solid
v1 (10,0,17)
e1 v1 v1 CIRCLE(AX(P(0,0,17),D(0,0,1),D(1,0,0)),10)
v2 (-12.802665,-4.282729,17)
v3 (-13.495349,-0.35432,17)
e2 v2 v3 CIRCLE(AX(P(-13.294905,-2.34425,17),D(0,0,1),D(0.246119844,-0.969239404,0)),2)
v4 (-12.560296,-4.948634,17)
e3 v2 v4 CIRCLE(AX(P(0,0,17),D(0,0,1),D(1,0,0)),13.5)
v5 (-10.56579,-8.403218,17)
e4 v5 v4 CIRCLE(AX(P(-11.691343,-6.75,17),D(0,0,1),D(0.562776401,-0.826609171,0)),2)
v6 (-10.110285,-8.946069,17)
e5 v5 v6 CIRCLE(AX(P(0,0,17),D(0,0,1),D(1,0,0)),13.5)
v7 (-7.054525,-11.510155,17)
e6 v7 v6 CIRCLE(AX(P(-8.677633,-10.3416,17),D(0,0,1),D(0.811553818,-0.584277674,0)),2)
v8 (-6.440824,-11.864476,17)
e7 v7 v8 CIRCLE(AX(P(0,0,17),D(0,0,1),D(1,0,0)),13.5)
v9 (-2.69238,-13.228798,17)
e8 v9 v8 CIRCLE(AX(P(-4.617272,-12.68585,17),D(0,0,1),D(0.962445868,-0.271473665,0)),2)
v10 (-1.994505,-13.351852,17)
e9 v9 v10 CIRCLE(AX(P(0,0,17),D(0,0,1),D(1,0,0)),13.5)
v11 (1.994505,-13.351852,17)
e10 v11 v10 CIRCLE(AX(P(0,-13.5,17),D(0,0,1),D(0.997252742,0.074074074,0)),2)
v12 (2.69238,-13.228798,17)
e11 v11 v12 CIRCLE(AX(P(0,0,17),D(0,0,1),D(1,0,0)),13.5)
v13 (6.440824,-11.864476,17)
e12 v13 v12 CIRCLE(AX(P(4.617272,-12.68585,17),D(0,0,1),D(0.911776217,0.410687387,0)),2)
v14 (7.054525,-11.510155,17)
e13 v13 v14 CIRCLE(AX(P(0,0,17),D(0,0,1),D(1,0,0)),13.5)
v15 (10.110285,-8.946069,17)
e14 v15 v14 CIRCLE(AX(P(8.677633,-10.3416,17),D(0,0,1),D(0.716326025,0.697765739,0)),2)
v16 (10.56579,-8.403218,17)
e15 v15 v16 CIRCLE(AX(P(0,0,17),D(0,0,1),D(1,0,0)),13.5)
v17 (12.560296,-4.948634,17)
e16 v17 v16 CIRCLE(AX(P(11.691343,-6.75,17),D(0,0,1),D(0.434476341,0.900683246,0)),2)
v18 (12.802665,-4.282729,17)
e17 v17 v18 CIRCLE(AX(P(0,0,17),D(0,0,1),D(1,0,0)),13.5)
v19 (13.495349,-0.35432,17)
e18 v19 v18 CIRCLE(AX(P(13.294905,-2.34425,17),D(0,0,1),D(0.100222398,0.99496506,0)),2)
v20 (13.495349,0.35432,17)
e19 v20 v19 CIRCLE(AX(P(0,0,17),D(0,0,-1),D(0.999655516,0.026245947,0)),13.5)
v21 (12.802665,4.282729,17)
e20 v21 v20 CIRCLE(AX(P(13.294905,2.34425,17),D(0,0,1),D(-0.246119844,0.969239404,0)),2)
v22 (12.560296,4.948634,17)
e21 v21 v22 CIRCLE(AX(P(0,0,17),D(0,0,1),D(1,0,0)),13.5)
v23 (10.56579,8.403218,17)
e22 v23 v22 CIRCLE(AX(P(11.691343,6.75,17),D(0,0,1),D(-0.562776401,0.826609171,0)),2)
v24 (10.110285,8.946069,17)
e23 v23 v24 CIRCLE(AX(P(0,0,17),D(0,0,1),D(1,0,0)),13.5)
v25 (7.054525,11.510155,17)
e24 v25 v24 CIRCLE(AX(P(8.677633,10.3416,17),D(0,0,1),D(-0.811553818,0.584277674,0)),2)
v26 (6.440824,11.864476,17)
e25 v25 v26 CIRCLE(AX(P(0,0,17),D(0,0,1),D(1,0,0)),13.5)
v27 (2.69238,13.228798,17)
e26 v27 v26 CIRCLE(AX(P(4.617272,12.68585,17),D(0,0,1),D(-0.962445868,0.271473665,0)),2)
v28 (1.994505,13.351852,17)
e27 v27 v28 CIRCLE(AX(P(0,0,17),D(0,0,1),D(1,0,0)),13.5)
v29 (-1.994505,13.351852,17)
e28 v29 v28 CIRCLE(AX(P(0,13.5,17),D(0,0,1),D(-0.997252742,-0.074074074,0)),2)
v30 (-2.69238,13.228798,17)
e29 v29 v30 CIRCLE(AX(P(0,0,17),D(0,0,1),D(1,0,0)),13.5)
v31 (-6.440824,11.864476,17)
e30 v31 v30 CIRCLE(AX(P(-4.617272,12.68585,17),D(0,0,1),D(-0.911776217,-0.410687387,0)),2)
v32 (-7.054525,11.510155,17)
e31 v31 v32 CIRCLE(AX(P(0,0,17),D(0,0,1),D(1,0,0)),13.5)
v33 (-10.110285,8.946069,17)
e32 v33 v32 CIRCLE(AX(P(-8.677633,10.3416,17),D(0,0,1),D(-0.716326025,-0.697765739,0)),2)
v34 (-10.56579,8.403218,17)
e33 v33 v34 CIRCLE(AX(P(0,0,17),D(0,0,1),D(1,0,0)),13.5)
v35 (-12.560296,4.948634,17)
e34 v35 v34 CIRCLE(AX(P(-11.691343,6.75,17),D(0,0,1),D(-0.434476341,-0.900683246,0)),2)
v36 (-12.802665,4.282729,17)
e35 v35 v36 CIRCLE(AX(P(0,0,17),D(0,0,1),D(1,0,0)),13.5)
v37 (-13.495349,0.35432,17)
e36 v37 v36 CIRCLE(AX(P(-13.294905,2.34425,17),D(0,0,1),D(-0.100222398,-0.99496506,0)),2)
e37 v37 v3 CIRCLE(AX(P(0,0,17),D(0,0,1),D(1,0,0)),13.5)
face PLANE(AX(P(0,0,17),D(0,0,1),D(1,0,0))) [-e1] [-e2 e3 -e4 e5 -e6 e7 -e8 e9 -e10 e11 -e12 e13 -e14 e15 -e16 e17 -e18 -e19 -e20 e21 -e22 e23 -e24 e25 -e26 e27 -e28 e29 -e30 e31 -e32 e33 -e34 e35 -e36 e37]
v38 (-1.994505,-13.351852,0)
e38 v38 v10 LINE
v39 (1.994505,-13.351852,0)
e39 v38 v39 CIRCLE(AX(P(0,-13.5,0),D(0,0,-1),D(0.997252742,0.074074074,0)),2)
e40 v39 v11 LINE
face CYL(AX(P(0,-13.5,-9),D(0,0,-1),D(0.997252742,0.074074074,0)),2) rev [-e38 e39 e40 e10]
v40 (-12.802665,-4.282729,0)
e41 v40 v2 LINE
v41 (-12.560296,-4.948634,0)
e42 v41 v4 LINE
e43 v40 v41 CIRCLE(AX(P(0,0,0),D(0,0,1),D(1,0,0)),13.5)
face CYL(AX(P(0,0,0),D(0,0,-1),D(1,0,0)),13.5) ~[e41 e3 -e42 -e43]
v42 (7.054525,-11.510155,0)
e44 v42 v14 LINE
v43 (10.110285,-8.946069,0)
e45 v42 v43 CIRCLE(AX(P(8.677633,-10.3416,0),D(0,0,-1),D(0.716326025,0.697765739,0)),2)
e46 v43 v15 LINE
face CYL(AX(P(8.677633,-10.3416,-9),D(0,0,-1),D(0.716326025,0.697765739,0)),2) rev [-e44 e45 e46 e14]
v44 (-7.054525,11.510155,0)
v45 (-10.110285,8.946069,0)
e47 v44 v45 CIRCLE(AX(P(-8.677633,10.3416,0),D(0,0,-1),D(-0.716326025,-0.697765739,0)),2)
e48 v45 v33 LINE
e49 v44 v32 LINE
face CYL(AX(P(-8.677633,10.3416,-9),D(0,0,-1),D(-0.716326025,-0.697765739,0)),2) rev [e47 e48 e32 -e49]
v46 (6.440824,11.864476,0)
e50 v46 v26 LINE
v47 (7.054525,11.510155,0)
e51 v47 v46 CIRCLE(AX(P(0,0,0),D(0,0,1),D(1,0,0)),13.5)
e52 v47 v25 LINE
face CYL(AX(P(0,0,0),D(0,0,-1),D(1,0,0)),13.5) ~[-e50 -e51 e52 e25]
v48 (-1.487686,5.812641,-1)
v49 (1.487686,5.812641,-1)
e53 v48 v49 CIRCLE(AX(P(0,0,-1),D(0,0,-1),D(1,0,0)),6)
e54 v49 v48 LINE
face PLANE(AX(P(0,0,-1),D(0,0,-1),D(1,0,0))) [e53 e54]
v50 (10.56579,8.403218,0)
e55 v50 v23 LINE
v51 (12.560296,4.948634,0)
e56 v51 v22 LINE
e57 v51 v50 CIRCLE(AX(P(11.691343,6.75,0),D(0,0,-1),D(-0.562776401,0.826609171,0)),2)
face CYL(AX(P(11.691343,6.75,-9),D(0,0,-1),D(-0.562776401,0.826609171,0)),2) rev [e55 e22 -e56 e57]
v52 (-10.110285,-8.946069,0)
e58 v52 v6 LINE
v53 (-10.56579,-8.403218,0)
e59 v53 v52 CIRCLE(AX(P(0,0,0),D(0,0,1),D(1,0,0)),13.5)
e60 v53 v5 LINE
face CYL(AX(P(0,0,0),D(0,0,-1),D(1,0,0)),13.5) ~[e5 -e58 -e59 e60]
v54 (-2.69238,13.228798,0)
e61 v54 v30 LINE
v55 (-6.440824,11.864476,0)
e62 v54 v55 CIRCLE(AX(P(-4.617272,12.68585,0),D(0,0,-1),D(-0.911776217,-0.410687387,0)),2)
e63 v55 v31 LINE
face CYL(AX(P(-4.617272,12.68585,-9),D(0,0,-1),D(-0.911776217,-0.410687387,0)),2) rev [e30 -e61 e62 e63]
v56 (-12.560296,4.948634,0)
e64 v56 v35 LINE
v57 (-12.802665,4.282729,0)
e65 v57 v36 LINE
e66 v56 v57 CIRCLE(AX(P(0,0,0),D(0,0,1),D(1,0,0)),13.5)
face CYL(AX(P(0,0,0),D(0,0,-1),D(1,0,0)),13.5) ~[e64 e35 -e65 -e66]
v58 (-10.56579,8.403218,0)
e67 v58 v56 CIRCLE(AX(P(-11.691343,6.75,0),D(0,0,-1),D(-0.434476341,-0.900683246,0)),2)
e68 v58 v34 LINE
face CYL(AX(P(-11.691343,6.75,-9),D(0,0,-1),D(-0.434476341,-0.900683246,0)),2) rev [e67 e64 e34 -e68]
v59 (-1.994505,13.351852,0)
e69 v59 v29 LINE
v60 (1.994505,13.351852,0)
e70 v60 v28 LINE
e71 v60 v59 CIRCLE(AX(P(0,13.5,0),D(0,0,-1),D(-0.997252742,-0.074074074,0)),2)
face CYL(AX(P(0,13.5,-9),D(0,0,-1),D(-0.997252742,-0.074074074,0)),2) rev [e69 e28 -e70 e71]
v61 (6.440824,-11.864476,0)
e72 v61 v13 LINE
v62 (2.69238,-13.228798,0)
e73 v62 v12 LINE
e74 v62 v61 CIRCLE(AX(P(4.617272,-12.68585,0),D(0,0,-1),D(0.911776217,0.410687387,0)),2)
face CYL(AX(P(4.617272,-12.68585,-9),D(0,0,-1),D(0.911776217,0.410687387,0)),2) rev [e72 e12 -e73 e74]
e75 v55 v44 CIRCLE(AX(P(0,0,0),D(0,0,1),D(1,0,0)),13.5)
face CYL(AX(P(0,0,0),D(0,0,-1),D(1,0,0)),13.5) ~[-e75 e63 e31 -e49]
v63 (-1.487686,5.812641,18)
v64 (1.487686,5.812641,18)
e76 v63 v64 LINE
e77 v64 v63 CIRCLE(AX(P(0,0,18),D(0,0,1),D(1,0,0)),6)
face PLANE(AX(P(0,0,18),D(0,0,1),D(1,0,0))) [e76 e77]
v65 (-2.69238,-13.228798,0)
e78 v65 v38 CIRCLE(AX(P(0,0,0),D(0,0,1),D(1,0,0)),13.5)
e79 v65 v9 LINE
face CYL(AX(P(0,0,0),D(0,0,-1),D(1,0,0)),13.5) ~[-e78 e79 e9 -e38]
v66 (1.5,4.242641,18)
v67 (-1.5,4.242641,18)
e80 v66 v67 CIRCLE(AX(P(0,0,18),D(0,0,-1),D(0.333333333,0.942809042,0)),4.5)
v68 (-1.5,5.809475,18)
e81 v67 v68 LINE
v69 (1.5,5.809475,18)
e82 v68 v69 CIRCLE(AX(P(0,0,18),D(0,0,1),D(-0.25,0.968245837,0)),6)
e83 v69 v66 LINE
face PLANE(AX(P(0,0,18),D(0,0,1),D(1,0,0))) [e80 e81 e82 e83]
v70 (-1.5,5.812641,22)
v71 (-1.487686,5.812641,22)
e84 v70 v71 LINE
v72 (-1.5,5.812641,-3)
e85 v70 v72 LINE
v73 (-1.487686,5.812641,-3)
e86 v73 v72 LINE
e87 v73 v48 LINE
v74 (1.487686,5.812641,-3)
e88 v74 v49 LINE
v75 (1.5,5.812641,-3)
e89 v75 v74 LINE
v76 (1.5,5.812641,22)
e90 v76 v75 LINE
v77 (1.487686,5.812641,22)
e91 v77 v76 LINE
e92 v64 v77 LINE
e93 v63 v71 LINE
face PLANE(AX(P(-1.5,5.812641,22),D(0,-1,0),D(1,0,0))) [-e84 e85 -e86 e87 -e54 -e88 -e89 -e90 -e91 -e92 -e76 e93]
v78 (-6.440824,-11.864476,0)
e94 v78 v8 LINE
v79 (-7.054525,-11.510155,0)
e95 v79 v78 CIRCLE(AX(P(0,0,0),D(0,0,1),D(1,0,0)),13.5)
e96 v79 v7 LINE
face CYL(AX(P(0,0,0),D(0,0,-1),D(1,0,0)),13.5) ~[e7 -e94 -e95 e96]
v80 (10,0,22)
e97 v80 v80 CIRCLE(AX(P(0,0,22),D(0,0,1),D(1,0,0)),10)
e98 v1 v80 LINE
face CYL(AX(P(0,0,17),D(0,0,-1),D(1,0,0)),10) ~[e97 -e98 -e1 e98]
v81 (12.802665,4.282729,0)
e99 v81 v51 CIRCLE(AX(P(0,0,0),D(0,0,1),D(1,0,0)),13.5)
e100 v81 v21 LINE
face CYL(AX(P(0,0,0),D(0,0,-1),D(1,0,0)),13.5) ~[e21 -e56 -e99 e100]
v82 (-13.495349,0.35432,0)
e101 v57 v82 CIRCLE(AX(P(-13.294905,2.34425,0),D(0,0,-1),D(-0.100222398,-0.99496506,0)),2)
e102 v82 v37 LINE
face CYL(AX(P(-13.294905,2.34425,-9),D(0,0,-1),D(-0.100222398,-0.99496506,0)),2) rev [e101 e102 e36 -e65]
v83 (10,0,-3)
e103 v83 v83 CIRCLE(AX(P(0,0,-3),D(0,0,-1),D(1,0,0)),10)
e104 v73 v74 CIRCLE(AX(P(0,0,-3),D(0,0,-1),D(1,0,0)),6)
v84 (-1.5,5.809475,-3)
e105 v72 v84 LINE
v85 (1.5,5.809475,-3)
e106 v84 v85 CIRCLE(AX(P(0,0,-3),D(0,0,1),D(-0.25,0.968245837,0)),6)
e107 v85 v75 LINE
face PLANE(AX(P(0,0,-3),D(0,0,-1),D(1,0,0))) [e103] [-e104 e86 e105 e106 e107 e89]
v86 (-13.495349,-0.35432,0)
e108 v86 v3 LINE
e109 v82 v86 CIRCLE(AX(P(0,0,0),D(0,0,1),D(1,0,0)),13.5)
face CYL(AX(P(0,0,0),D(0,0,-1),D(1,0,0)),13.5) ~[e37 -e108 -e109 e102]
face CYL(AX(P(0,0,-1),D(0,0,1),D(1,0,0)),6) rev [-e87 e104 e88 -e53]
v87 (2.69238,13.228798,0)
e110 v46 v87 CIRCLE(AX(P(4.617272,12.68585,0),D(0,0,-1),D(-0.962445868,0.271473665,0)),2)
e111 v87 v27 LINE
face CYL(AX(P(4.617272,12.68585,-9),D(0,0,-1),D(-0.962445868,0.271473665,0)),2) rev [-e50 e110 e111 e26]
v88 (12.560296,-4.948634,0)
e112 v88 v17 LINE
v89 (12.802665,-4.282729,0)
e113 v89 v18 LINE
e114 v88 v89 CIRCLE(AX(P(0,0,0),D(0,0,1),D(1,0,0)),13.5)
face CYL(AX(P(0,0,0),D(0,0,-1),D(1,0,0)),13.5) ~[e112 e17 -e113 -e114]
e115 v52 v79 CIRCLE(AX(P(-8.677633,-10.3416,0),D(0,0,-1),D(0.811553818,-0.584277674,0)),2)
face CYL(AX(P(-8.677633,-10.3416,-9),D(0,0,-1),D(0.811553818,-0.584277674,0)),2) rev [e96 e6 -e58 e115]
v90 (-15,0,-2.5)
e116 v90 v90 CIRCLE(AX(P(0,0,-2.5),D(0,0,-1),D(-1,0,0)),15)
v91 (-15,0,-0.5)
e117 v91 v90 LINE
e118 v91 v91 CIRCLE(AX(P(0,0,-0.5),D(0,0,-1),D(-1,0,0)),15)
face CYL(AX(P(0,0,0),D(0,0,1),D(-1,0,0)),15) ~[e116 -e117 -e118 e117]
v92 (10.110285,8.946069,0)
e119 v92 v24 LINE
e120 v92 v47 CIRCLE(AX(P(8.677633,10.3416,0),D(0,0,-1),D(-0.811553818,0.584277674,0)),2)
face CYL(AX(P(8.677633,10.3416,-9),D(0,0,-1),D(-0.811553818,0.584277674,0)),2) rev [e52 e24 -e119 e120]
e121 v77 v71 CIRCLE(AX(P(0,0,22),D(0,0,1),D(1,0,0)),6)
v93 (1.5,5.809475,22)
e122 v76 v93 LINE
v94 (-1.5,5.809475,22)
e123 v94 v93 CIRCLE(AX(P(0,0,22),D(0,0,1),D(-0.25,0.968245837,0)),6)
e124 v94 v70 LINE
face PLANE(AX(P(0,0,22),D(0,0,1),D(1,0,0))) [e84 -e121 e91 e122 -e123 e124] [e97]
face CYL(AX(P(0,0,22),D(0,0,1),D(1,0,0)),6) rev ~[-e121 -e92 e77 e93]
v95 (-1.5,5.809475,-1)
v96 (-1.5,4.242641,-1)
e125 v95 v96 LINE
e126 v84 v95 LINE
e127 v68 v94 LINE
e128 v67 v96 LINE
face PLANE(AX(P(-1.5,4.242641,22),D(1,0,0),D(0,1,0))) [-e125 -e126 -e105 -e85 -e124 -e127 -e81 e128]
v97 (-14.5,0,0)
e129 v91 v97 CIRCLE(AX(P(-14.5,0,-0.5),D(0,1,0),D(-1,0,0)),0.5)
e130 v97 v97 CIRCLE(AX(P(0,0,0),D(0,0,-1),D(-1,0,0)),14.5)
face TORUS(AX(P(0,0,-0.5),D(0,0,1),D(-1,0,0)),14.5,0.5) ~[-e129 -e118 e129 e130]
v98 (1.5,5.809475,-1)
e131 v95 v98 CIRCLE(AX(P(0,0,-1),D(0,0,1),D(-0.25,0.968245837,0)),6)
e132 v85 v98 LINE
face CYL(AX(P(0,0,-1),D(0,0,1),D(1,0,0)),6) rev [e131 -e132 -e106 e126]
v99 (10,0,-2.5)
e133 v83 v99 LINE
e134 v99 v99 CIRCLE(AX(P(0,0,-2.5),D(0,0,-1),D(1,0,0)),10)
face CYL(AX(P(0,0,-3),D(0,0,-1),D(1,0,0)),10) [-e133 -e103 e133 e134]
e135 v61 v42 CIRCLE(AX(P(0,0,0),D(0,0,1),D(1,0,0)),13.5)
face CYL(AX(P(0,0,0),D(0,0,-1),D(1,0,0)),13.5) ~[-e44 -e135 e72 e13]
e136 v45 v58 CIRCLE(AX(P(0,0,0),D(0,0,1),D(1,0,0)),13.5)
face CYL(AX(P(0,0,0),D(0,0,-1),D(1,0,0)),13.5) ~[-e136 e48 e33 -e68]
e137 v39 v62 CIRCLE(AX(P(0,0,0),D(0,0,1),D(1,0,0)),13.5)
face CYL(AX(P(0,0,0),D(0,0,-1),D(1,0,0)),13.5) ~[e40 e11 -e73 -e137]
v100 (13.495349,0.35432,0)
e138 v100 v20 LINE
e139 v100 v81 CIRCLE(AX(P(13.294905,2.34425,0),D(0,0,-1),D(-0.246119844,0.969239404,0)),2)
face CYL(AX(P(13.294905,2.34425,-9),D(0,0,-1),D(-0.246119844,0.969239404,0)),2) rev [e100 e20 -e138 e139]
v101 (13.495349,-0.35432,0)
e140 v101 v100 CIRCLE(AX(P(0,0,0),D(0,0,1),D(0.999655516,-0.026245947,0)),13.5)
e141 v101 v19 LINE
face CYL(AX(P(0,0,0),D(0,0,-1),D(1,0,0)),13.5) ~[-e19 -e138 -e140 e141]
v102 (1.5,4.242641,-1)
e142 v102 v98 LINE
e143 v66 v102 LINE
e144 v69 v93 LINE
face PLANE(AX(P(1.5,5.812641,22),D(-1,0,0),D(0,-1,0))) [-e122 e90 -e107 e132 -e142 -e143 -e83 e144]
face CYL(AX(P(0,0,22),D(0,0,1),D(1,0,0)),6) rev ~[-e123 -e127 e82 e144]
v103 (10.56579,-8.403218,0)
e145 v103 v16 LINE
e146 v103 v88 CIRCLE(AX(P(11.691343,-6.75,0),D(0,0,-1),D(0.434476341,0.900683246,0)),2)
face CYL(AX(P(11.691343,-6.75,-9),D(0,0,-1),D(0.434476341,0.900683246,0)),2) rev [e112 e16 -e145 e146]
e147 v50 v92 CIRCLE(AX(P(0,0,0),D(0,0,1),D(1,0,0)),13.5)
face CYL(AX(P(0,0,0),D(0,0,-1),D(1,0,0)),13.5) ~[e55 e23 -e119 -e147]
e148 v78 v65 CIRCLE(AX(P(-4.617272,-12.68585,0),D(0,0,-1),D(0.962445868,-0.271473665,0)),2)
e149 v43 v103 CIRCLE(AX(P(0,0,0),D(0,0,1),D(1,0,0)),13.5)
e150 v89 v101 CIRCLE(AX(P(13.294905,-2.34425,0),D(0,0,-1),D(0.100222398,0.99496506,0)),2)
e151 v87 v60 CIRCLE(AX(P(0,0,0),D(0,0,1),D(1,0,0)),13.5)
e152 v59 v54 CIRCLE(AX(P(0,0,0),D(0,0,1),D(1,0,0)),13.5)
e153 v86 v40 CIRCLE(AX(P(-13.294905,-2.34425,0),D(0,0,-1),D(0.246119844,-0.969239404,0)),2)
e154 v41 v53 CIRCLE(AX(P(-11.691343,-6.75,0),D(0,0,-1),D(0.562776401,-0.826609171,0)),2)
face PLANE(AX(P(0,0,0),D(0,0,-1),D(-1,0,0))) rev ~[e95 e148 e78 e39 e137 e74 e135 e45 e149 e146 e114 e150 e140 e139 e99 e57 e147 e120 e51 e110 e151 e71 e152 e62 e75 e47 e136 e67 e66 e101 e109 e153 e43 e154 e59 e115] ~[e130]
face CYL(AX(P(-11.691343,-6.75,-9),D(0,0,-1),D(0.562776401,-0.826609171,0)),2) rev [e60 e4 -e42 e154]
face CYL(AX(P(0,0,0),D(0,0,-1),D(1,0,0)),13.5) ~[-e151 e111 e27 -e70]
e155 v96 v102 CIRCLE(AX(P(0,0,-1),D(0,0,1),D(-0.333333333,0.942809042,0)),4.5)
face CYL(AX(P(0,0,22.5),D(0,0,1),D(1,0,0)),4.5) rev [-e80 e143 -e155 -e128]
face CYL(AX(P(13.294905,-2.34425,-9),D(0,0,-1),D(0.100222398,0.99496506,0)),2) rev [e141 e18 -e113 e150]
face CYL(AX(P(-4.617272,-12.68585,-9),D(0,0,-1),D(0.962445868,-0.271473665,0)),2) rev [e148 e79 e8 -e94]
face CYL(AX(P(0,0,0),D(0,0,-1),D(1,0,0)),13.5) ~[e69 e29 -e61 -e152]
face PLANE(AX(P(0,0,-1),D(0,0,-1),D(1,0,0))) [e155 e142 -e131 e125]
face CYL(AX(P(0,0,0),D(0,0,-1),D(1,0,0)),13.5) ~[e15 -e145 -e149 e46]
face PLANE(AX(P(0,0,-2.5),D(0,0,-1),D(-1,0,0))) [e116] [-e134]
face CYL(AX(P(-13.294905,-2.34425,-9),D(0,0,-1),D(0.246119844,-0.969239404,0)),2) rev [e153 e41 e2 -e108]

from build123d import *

# Parameters (mm, degrees)
CROQUIS1_R              = 13.5
SALIENTE_EXTRUIR1_DEPTH = 17
CORTAR_EXTRUIR5_START   = -26
CORTAR_EXTRUIR5_DEPTH   = 26
CROQUIS8_R              = 10
SALIENTE_EXTRUIR2_DEPTH = 5
CROQUIS9_R              = 4.5
CORTAR_EXTRUIR6_DEPTH   = 45
CROQUIS10_R             = 6
CORTAR_EXTRUIR8_DEPTH   = 4
CROQUIS12_R             = 15
SALIENTE_EXTRUIR4_DEPTH = 2.5
CORTAR_EXTRUIR9_START   = -25
CROQUIS13_R             = 4.5
CORTAR_EXTRUIR9_DEPTH   = 25
SALIENTE_EXTRUIR5_START = 0.5
CROQUIS14_R             = 10
SALIENTE_EXTRUIR5_DEPTH = 0.5
CORTAR_EXTRUIR10_START  = -2
CROQUIS15_R             = 6
CORTAR_EXTRUIR10_DEPTH  = 2
CORTAR_EXTRUIR12_DEPTH  = 50
REDONDEO1_R             = 0.5


with BuildPart() as part:
    # Croquis1 → Saliente-Extruir1 (new body)
    with BuildSketch(Plane.XY):
        Circle(CROQUIS1_R)
    extrude(amount=SALIENTE_EXTRUIR1_DEPTH)

    # Croquis2 → Cortar-Extruir5 (cut)
    with BuildSketch(Plane.XY.offset(17).offset(CORTAR_EXTRUIR5_START)):
        with BuildLine():
            ThreePointArc((-6.44082437, 11.864475607), (-3.933231648, 10.806465139), (-2.692380198, 13.228797711))
            ThreePointArc((-2.692380198, 13.228797711), (-4.617271935, 12.685850381), (-6.44082437, 11.864475607))
        make_face()
        with BuildLine():
            ThreePointArc((-10.11028478, 8.946068504), (-7.392057511, 8.809511096), (-7.054525094, 11.510155329))
            ThreePointArc((-7.054525094, 11.510155329), (-8.677632731, 10.341599982), (-10.11028478, 8.946068504))
        make_face()
        with BuildLine():
            ThreePointArc((-12.560295633, 4.948633509), (-9.959292144, 5.75), (-10.565790149, 8.403218343))
            ThreePointArc((-10.565790149, 8.403218343), (-11.691342951, 6.75), (-12.560295633, 4.948633509))
        make_face()
        with BuildLine():
            ThreePointArc((1.994505484, 13.351851852), (0, 13.5), (-1.994505484, 13.351851852))
            ThreePointArc((-1.994505484, 13.351851852), (0, 11.5), (1.994505484, 13.351851852))
        make_face()
        with BuildLine():
            ThreePointArc((6.44082437, 11.864475607), (4.617271935, 12.685850381), (2.692380198, 13.228797711))
            ThreePointArc((2.692380198, 13.228797711), (3.933231648, 10.806465139), (6.44082437, 11.864475607))
        make_face()
        with BuildLine():
            ThreePointArc((10.11028478, 8.946068504), (8.677632731, 10.341599982), (7.054525094, 11.510155329))
            ThreePointArc((7.054525094, 11.510155329), (7.392057511, 8.809511096), (10.11028478, 8.946068504))
        make_face()
        with BuildLine():
            ThreePointArc((12.560295633, 4.948633509), (11.691342951, 6.75), (10.565790149, 8.403218343))
            ThreePointArc((10.565790149, 8.403218343), (9.959292144, 5.75), (12.560295633, 4.948633509))
        make_face()
        with BuildLine():
            ThreePointArc((13.495349463, 0.354320278), (13.294904666, 2.344250399), (12.802664978, 4.282729207))
            ThreePointArc((12.802664978, 4.282729207), (11.32528916, 1.996954043), (13.495349463, 0.354320278))
        make_face()
        with BuildLine():
            ThreePointArc((12.802664978, -4.282729207), (13.294904666, -2.344250399), (13.495349463, -0.354320278))
            ThreePointArc((13.495349463, -0.354320278), (11.32528916, -1.996954043), (12.802664978, -4.282729207))
        make_face()
        with BuildLine():
            ThreePointArc((10.565790149, -8.403218343), (11.691342951, -6.75), (12.560295633, -4.948633509))
            ThreePointArc((12.560295633, -4.948633509), (9.959292144, -5.75), (10.565790149, -8.403218343))
        make_face()
        with BuildLine():
            ThreePointArc((7.054525094, -11.510155329), (8.677632731, -10.341599982), (10.11028478, -8.946068504))
            ThreePointArc((10.11028478, -8.946068504), (7.392057511, -8.809511096), (7.054525094, -11.510155329))
        make_face()
        with BuildLine():
            ThreePointArc((2.692380198, -13.228797711), (4.617271935, -12.685850381), (6.44082437, -11.864475607))
            ThreePointArc((6.44082437, -11.864475607), (3.933231648, -10.806465139), (2.692380198, -13.228797711))
        make_face()
        with BuildLine():
            ThreePointArc((1.994505484, -13.351851852), (0, -11.5), (-1.994505484, -13.351851852))
            ThreePointArc((-1.994505484, -13.351851852), (0, -13.5), (1.994505484, -13.351851852))
        make_face()
        with BuildLine():
            ThreePointArc((-2.692380198, -13.228797711), (-3.933231648, -10.806465139), (-6.44082437, -11.864475607))
            ThreePointArc((-6.44082437, -11.864475607), (-4.617271935, -12.685850381), (-2.692380198, -13.228797711))
        make_face()
        with BuildLine():
            ThreePointArc((-7.054525094, -11.510155329), (-7.392057511, -8.809511096), (-10.11028478, -8.946068504))
            ThreePointArc((-10.11028478, -8.946068504), (-8.677632731, -10.341599982), (-7.054525094, -11.510155329))
        make_face()
        with BuildLine():
            ThreePointArc((-10.565790149, -8.403218343), (-9.959292144, -5.75), (-12.560295633, -4.948633509))
            ThreePointArc((-12.560295633, -4.948633509), (-11.691342951, -6.75), (-10.565790149, -8.403218343))
        make_face()
        with BuildLine():
            ThreePointArc((-12.802664978, -4.282729207), (-11.32528916, -1.996954043), (-13.495349463, -0.354320278))
            ThreePointArc((-13.495349463, -0.354320278), (-13.294904666, -2.344250399), (-12.802664978, -4.282729207))
        make_face()
        with BuildLine():
            ThreePointArc((-13.495349463, 0.354320278), (-11.32528916, 1.996954043), (-12.802664978, 4.282729207))
            ThreePointArc((-12.802664978, 4.282729207), (-13.294904666, 2.344250399), (-13.495349463, 0.354320278))
        make_face()
    extrude(amount=CORTAR_EXTRUIR5_DEPTH, mode=Mode.SUBTRACT)

    # Croquis8 → Saliente-Extruir2 (add)
    with BuildSketch(Plane.XY.offset(17)):
        Circle(CROQUIS8_R)
    extrude(amount=SALIENTE_EXTRUIR2_DEPTH)

    # Croquis9 → Cortar-Extruir6 (cut)
    with BuildSketch(Plane.XY.offset(22)):
        Circle(CROQUIS9_R)
    extrude(amount=-CORTAR_EXTRUIR6_DEPTH, mode=Mode.SUBTRACT)

    # Croquis10 → Cortar-Extruir8 (cut)
    with BuildSketch(Plane.XY.offset(22)):
        Circle(CROQUIS10_R)
    extrude(amount=-CORTAR_EXTRUIR8_DEPTH, mode=Mode.SUBTRACT)

    # Croquis12 → Saliente-Extruir4 (add)
    with BuildSketch(Plane(origin=(0, 0, 0), x_dir=(-1, 0, 0), z_dir=(0, 0, -1))):
        Circle(CROQUIS12_R)
    extrude(amount=SALIENTE_EXTRUIR4_DEPTH)

    # Croquis13 → Cortar-Extruir9 (cut)
    with BuildSketch(Plane(origin=(0, 0, -2.5), x_dir=(-1, 0, 0), z_dir=(0, 0, -1)).offset(CORTAR_EXTRUIR9_START)):
        with Locations(Location((0, 0, 0), (0, 0, 180))):
            Circle(CROQUIS13_R)
    extrude(amount=CORTAR_EXTRUIR9_DEPTH, mode=Mode.SUBTRACT)

    # Croquis14 → Saliente-Extruir5 (add)
    with BuildSketch(Plane(origin=(0, 0, -2.5), x_dir=(-1, 0, 0), z_dir=(0, 0, -1)).offset(SALIENTE_EXTRUIR5_START)):
        with Locations(Location((0, 0, 0), (0, 0, 180))):
            Circle(CROQUIS14_R)
    extrude(amount=-SALIENTE_EXTRUIR5_DEPTH)

    # Croquis15 → Cortar-Extruir10 (cut)
    with BuildSketch(Plane(origin=(0, 0, -3), x_dir=(-1, 0, 0), z_dir=(0, 0, -1)).offset(CORTAR_EXTRUIR10_START)):
        with Locations(Location((0, 0, 0), (0, 0, 180))):
            Circle(CROQUIS15_R)
    extrude(amount=CORTAR_EXTRUIR10_DEPTH, mode=Mode.SUBTRACT)

    # Croquis16 → Cortar-Extruir12 (cut)
    with BuildSketch(Plane.XY.offset(22)):
        with BuildLine():
            Line((-1.5, 4.242640687), (-1.5, 5.812640687))
            Line((-1.5, 5.812640687), (1.5, 5.812640687))
            Line((1.5, 5.812640687), (1.5, 4.242640687))
            ThreePointArc((1.5, 4.242640687), (0, 4.5), (-1.5, 4.242640687))
        make_face()
    extrude(amount=-CORTAR_EXTRUIR12_DEPTH, mode=Mode.SUBTRACT)

    # Redondeo1
    redondeo1_edges = [part.edges().sort_by_distance(p)[0] for p in [
        (15, 0, 0),
    ]]
    fillet(redondeo1_edges, radius=REDONDEO1_R)


solid = part.part
